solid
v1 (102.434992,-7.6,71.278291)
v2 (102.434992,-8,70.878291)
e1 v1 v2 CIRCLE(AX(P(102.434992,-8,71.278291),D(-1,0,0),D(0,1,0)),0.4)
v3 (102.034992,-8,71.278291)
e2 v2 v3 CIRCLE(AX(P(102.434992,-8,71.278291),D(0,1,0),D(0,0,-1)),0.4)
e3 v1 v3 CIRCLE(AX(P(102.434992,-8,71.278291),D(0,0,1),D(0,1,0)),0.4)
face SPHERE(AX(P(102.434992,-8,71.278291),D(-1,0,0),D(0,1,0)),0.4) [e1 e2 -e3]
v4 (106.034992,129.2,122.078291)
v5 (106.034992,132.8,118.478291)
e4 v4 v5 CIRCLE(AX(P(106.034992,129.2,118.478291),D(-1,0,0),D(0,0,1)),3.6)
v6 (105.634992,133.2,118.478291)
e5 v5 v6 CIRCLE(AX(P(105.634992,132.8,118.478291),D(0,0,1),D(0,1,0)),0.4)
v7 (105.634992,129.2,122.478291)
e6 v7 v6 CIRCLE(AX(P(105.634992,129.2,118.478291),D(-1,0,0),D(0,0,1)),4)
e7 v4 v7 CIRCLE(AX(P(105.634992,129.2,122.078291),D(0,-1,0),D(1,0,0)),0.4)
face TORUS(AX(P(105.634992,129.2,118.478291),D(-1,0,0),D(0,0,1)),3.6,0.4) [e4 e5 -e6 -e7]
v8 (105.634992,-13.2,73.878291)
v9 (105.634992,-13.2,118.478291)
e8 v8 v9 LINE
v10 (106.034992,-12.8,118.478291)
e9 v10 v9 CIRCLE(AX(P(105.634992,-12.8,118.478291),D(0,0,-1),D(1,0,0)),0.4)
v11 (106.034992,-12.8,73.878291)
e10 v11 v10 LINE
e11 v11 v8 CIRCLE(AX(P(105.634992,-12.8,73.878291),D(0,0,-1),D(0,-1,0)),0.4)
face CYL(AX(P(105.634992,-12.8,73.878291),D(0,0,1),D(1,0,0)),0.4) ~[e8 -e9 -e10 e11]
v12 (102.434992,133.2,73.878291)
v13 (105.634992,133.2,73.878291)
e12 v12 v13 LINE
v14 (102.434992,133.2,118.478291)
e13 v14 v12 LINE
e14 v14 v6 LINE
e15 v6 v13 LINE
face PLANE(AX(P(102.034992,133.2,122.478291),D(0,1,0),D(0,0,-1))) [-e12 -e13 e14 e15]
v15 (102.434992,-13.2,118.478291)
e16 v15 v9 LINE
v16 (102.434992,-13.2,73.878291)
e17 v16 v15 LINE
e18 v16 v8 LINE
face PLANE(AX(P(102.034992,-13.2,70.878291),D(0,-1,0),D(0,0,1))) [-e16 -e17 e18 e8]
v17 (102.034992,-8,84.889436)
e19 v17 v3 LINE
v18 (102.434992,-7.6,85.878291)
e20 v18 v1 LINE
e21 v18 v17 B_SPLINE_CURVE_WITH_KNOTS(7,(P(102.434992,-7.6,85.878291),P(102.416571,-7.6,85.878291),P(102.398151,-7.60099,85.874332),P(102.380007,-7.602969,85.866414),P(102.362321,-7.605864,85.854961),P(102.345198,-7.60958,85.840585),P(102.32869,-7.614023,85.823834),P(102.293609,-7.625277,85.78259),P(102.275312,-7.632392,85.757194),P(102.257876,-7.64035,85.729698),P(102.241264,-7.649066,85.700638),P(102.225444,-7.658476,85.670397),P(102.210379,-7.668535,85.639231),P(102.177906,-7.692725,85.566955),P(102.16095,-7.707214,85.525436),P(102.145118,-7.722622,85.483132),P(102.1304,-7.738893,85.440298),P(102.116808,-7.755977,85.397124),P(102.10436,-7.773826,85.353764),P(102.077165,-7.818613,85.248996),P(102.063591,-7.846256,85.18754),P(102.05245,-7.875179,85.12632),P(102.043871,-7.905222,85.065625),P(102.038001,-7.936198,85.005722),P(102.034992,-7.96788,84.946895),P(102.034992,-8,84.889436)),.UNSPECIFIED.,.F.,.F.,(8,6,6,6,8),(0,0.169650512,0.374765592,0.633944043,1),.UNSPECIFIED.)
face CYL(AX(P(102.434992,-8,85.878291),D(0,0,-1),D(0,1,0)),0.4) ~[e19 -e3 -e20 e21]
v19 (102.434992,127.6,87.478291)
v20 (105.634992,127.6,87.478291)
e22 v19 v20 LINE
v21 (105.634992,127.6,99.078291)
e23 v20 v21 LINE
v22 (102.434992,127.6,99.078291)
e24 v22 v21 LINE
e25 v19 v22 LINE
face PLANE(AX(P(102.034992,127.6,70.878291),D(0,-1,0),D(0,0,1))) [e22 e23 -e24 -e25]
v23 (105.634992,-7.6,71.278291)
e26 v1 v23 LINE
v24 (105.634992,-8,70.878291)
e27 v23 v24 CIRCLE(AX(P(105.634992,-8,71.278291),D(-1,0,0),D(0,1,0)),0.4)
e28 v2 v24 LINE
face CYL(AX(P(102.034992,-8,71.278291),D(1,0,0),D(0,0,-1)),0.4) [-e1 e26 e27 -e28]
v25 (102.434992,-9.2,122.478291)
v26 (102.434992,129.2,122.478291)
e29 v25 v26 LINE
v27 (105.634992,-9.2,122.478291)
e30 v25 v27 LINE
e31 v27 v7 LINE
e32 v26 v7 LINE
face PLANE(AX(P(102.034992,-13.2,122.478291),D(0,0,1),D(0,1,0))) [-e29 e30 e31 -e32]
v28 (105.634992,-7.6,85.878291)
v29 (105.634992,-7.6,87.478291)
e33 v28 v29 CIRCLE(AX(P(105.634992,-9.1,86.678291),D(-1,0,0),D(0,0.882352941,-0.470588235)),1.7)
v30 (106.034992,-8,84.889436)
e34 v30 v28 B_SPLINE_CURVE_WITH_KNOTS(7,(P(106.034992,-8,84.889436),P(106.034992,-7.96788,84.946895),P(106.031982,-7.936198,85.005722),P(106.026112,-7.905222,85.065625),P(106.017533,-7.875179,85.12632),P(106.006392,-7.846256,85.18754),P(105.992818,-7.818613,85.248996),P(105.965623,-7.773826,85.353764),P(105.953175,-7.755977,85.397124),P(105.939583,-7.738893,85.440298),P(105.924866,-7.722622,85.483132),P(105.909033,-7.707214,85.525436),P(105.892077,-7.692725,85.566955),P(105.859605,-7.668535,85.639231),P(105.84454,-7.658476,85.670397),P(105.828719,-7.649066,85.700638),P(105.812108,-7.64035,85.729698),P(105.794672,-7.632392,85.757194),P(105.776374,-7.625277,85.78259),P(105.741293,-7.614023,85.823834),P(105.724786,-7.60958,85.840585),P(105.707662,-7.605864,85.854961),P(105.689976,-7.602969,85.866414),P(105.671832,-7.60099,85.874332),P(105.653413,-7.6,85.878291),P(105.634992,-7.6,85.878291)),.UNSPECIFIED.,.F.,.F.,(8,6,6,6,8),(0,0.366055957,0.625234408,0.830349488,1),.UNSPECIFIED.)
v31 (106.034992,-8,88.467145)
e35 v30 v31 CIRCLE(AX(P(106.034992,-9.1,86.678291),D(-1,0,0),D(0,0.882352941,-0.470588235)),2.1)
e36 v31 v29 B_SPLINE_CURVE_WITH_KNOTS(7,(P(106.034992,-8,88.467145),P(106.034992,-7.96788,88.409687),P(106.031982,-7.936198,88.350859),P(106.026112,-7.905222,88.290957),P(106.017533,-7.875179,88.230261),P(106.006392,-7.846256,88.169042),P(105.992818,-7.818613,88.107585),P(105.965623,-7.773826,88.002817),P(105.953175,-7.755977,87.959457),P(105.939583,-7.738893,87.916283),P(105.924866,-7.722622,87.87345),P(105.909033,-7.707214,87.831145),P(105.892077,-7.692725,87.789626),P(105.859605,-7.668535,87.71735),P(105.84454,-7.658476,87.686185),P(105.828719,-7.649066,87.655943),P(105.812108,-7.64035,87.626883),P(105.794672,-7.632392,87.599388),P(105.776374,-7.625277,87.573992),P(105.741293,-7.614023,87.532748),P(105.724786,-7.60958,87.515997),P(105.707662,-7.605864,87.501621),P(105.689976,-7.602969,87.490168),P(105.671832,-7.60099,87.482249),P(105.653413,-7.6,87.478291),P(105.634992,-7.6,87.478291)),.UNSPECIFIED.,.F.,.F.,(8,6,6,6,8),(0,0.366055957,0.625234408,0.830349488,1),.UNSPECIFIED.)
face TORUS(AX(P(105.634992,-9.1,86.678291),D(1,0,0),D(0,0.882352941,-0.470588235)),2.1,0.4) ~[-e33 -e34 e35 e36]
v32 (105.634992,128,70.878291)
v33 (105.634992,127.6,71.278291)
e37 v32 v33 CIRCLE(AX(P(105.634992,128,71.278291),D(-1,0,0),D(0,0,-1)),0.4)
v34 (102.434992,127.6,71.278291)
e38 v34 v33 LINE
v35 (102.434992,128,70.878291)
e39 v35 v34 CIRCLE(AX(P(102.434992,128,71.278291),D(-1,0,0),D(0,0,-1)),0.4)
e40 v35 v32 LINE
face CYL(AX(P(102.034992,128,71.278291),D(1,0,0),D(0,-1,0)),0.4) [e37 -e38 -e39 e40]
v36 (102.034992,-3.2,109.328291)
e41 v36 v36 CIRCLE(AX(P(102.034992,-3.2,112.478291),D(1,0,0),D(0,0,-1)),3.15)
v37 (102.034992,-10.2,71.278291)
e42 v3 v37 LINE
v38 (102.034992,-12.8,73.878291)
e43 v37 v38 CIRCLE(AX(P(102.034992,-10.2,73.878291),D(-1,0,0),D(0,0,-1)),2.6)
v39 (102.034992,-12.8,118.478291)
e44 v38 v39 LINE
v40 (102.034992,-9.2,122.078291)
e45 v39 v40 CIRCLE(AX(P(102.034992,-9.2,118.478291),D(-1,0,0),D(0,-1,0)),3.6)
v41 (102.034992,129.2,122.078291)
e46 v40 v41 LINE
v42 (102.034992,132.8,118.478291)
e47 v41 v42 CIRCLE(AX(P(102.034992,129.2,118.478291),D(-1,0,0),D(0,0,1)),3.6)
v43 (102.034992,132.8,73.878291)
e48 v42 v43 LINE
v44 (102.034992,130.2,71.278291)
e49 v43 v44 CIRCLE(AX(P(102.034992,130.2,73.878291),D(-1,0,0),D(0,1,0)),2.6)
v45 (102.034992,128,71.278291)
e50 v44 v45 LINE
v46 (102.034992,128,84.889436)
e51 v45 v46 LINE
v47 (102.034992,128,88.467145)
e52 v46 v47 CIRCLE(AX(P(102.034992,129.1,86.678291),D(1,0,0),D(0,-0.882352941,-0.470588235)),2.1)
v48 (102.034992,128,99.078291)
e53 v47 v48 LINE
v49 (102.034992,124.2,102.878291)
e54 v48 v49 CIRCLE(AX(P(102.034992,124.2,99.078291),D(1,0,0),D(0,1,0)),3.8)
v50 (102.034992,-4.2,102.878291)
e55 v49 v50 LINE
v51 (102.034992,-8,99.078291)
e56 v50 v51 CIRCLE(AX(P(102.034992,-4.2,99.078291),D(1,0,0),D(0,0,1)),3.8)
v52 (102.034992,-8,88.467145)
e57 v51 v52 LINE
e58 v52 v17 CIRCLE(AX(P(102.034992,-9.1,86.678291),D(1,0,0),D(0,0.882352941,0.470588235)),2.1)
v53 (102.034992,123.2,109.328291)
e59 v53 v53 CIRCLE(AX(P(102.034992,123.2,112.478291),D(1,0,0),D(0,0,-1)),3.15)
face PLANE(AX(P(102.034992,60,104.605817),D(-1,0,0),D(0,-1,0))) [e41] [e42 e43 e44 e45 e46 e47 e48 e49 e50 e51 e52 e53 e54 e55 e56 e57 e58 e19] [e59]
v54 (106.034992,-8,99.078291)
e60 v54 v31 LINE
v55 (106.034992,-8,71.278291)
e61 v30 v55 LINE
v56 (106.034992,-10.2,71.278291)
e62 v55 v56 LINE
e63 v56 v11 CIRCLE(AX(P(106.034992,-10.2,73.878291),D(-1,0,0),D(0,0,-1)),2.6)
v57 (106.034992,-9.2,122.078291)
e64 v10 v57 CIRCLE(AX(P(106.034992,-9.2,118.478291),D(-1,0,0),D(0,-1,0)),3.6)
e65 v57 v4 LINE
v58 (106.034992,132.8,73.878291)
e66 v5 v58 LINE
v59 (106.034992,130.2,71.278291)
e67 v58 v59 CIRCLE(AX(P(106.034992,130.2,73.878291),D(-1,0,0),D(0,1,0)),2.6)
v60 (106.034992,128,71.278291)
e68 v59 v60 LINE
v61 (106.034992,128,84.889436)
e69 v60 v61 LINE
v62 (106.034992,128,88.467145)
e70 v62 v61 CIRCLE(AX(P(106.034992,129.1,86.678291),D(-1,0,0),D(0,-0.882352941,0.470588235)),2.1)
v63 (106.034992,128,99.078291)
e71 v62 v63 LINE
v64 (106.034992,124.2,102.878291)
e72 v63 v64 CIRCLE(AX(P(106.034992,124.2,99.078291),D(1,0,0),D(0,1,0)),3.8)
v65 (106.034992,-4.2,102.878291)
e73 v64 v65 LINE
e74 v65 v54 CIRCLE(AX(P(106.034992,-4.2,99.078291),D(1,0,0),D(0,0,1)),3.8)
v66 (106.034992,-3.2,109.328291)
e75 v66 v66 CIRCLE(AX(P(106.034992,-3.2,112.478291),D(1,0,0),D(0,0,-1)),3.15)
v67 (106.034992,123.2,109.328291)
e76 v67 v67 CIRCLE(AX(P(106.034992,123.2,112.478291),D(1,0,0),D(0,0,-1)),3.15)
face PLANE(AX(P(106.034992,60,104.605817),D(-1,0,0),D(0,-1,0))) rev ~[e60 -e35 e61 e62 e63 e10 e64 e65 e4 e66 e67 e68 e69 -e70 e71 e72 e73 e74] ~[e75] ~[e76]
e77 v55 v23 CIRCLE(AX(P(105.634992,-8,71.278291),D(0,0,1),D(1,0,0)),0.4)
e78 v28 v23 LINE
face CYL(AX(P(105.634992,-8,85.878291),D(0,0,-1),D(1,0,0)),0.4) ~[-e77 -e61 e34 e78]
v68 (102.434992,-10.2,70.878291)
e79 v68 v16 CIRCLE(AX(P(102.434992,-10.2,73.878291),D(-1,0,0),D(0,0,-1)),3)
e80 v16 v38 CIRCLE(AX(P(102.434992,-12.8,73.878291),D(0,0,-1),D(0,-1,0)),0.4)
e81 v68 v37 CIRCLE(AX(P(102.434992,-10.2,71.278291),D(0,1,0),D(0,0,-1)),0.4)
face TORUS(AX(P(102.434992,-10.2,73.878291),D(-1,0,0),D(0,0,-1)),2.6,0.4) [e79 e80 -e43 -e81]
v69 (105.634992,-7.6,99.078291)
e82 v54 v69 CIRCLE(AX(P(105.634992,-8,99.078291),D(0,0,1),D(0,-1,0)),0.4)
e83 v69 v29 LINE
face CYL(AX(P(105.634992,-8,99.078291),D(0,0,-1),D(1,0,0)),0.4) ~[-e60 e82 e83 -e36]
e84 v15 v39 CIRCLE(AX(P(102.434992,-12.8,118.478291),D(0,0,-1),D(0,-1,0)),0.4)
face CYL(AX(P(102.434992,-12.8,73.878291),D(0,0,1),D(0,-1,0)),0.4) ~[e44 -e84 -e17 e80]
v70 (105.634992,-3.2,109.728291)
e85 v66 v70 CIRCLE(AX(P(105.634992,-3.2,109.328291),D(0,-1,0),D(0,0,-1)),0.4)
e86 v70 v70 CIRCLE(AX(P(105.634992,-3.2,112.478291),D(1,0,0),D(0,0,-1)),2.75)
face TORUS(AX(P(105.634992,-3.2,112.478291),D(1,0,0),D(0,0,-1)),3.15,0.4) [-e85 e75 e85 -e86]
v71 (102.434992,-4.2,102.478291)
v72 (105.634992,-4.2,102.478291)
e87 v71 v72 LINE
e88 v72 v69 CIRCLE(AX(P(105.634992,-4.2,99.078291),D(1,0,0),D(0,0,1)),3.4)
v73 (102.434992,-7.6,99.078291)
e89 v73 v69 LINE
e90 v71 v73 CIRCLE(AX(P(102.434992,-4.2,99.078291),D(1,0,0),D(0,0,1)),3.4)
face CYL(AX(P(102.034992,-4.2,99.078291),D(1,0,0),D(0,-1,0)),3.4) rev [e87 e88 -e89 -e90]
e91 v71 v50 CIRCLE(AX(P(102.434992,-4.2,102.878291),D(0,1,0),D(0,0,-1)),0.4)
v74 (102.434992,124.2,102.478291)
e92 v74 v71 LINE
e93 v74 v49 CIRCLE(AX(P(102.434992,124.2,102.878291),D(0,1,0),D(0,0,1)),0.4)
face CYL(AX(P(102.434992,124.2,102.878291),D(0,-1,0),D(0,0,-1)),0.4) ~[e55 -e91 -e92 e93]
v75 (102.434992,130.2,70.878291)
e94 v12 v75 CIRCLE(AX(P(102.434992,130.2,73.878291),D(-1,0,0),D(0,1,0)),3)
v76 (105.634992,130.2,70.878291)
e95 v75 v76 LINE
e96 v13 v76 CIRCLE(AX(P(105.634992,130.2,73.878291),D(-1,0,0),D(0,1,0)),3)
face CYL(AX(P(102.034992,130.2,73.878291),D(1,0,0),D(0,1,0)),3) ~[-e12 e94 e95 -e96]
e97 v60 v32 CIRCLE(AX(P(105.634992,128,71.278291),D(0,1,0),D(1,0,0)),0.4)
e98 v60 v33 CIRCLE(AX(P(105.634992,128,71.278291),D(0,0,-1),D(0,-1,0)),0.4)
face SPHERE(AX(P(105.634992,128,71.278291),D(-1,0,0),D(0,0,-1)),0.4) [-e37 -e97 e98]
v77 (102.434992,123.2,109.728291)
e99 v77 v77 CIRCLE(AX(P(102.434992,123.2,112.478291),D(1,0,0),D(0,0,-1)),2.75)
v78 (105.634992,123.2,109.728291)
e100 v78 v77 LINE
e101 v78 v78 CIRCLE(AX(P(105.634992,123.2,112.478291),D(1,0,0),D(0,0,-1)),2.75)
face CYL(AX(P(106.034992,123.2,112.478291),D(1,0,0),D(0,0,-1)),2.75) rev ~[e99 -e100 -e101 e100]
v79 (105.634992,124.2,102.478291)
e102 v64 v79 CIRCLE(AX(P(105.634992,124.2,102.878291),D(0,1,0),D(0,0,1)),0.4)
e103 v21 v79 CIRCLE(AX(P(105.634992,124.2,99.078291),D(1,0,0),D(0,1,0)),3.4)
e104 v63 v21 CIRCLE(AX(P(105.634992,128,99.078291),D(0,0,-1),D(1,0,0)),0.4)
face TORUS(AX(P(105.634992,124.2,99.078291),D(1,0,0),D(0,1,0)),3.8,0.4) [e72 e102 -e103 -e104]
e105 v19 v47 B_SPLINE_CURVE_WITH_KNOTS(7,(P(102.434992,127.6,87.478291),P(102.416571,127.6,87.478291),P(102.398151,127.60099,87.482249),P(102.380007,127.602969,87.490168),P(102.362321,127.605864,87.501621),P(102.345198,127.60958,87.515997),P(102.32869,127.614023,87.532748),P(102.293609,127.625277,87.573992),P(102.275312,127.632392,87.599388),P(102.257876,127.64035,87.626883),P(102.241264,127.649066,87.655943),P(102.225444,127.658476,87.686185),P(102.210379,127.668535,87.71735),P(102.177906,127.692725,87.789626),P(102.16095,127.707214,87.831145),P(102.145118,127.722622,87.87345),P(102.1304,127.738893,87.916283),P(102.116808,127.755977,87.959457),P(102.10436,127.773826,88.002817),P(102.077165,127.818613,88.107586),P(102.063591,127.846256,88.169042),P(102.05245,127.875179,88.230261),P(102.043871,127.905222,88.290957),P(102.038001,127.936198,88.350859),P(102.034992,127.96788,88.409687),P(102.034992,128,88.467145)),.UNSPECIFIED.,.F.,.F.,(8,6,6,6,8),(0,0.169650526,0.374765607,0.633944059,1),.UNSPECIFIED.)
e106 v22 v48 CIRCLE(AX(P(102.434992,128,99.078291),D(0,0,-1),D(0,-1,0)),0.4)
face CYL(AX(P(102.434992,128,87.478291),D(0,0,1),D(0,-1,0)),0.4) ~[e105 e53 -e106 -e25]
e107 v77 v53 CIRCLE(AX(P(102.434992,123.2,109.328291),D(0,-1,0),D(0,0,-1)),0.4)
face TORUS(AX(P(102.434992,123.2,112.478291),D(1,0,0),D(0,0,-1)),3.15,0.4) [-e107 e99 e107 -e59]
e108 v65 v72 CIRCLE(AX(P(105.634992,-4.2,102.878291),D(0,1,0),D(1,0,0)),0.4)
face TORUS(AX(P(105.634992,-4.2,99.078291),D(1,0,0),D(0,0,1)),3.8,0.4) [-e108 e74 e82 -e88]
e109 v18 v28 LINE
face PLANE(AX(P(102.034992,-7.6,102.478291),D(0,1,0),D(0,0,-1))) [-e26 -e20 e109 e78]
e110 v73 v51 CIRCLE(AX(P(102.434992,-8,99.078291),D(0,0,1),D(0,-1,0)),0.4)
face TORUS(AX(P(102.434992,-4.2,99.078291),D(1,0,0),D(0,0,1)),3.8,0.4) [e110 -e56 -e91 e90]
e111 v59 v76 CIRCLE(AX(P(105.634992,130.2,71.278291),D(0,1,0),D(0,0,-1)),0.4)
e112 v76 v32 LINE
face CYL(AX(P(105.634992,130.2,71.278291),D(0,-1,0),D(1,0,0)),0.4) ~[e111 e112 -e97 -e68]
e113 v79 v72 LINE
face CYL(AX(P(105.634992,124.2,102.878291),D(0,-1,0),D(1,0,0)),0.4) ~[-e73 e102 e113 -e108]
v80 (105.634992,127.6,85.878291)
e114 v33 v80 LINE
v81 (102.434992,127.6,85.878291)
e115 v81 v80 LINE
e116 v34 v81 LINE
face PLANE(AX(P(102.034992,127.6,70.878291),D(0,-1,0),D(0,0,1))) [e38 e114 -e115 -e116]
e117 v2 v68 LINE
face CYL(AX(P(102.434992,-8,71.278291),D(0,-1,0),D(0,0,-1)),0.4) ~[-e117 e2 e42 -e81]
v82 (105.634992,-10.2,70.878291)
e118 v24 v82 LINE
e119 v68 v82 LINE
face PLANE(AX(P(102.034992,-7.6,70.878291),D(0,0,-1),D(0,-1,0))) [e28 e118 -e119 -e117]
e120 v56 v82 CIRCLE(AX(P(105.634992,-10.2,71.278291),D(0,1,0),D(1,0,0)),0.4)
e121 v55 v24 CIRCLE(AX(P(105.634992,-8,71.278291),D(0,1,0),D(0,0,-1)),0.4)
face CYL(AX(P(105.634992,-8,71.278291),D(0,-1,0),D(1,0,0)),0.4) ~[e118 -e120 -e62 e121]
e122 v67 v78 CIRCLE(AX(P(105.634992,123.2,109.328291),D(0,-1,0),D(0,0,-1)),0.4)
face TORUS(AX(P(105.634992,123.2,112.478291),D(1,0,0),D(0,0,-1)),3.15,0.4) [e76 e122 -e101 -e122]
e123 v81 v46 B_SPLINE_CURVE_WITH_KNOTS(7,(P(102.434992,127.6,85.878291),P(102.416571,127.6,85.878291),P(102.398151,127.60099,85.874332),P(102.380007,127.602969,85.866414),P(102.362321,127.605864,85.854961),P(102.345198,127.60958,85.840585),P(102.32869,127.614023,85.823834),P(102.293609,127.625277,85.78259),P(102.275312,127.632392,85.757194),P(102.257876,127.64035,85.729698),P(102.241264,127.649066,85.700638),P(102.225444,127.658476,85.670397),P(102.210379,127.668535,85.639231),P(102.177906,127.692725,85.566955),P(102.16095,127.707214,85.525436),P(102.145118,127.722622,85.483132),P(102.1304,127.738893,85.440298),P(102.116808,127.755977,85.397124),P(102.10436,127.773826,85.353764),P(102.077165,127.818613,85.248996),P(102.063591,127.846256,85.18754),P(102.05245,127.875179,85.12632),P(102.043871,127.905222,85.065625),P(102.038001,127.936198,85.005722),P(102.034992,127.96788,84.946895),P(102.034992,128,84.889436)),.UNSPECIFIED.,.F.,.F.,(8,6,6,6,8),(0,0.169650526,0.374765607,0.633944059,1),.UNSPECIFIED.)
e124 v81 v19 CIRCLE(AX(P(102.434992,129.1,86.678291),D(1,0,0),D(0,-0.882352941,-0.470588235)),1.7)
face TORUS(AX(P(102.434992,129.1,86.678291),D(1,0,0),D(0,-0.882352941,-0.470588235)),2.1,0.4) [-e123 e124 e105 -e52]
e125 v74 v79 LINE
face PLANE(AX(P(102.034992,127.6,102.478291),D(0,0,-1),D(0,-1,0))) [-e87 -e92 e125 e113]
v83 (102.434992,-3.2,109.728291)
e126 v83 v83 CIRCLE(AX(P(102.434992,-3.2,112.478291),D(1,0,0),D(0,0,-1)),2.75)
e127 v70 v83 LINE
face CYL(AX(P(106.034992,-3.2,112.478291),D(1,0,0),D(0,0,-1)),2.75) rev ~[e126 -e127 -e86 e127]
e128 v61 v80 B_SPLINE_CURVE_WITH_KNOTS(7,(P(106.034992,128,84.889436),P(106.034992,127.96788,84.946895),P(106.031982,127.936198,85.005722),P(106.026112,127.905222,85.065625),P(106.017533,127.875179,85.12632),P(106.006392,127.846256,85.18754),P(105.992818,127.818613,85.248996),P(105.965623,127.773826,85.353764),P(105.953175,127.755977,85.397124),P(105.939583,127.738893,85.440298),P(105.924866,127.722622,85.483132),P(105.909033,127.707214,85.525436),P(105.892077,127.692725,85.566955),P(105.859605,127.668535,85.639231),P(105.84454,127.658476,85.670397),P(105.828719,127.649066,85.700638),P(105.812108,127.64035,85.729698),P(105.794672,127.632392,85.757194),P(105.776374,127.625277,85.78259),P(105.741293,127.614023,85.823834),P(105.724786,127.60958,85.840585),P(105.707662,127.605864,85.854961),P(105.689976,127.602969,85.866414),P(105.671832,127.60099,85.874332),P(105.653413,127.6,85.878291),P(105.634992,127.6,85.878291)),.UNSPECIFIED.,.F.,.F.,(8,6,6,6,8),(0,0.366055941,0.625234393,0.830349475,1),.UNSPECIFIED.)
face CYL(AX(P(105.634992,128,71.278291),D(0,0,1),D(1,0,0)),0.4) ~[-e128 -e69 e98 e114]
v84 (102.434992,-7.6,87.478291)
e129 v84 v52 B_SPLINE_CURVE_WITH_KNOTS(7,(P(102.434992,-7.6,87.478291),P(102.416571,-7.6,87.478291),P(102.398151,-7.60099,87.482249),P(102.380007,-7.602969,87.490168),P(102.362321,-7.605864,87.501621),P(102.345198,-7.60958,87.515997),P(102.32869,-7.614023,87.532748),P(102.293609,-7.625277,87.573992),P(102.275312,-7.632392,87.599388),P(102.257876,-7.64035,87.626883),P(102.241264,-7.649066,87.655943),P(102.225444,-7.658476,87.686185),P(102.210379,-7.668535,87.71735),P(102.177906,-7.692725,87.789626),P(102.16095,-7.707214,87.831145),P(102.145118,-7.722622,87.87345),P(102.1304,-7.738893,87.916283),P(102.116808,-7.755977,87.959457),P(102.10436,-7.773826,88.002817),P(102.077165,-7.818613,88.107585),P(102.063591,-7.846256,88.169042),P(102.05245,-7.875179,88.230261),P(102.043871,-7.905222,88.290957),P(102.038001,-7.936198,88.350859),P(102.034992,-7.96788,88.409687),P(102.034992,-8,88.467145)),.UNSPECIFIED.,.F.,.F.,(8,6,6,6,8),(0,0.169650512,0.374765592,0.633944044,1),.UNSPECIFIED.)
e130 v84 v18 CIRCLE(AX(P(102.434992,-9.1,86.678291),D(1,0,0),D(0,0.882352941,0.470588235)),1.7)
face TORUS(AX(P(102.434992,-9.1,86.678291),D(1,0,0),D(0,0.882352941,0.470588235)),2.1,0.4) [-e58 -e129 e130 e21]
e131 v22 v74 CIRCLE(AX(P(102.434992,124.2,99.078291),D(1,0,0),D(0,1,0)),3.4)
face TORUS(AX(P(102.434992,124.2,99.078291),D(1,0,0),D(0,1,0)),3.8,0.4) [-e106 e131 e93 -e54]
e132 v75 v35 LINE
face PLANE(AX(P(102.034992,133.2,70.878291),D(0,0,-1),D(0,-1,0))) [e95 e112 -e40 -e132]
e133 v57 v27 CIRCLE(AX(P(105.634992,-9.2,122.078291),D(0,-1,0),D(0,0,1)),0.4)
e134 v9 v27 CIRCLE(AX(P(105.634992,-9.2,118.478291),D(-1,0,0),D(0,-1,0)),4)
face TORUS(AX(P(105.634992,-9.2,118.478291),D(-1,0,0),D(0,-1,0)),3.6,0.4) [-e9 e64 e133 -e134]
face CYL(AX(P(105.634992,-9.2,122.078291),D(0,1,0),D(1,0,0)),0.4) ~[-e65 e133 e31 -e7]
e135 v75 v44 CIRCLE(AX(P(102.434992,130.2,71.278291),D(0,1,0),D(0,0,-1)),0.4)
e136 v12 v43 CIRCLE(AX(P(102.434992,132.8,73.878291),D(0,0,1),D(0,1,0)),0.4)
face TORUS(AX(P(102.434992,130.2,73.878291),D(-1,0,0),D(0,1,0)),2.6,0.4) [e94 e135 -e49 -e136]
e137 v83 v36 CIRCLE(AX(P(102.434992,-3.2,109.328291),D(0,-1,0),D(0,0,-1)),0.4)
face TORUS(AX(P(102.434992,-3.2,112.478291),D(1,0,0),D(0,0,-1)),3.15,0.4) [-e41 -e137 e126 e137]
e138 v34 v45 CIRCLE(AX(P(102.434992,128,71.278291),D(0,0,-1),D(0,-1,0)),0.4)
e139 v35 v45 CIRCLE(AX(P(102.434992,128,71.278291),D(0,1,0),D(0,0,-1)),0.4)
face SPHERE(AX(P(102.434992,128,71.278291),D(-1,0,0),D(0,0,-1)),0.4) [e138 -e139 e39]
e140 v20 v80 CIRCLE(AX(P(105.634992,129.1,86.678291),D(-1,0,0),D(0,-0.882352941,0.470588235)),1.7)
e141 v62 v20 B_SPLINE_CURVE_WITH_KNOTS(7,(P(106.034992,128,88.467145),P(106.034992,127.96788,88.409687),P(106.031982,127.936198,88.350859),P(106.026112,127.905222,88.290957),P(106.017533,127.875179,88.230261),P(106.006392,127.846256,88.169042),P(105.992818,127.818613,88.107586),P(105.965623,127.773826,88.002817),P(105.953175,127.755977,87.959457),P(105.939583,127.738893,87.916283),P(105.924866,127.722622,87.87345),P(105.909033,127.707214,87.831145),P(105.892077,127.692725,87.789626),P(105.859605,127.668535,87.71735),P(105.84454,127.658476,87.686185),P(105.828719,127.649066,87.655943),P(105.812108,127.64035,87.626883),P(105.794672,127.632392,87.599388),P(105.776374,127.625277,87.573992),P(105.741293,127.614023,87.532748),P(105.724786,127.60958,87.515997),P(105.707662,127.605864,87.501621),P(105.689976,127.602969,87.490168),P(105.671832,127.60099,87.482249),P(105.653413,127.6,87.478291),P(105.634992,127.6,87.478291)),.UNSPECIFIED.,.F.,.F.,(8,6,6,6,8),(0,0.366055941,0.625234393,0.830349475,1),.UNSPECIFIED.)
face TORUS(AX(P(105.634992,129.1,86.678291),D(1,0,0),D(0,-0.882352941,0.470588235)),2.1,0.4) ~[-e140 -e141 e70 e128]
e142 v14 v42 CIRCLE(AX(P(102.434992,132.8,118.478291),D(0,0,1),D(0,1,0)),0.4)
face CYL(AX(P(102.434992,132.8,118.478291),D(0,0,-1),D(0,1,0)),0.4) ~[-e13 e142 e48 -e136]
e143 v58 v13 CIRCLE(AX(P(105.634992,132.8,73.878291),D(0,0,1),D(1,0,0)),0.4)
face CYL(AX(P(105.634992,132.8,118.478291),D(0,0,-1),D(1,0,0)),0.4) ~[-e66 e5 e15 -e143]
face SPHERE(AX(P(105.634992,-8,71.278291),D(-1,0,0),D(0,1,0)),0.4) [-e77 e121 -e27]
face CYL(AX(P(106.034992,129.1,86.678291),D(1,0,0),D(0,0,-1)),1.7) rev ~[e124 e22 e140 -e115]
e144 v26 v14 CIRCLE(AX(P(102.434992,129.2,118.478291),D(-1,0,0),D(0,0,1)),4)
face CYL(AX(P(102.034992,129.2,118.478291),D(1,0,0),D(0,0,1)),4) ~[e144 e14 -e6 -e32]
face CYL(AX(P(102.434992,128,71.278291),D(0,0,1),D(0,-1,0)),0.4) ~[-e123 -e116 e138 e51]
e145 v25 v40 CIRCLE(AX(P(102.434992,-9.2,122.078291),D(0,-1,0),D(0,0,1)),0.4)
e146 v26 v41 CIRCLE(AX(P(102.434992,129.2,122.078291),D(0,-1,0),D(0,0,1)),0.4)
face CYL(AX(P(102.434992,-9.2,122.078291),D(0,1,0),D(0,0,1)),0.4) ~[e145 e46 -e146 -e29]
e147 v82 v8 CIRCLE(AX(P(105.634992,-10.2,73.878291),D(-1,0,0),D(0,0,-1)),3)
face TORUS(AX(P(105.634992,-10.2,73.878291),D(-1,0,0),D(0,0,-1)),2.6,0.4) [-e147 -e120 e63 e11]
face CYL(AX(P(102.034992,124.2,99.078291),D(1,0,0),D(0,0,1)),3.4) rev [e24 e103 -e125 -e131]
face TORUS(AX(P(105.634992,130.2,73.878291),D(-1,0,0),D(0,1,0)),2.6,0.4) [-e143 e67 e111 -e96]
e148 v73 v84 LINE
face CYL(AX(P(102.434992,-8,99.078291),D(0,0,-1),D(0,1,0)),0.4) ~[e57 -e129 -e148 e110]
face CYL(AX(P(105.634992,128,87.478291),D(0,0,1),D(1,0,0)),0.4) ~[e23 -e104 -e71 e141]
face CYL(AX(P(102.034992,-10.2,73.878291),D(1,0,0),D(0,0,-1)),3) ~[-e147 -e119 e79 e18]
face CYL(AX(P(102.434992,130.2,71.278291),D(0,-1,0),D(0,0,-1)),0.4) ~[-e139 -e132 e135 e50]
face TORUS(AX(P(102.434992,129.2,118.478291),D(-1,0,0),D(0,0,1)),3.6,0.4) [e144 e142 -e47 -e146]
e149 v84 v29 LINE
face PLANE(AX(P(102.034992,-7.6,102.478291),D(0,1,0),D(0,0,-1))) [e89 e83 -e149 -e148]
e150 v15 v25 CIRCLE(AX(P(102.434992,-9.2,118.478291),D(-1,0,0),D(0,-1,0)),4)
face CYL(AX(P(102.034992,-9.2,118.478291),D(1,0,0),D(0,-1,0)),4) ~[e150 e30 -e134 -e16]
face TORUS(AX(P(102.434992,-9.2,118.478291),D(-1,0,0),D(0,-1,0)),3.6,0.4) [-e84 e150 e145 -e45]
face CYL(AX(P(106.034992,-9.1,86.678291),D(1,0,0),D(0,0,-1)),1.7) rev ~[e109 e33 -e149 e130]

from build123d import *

# Parameters (mm, degrees)
BOSS_EXTRUDE1_DEPTH = 4
SKETCH6_R           = 1.7
SKETCH6_R_2         = 2.75
HOLES_DEPTH         = 5
FILLET1_R           = 0.4
FILLET3_R           = 3
FILLET5_R           = 4
FILLET6_R           = 3.4
FILLET7_R           = 0.4


with BuildPart() as part:
    # Sketch1 → Boss-Extrude1 (new body)
    with BuildSketch(Plane(origin=(102.034991665, 0, 0), x_dir=(0, -1, 0), z_dir=(-1, 0, 0))):
        Polygon((-127.6, 102.478290724), (7.6, 102.478290724), (7.6, 70.878290724), (13.2, 70.878290724), (13.2, 122.478290724), (-133.2, 122.478290724), (-133.2, 70.878290724), (-127.6, 70.878290724), align=None)
    extrude(amount=-BOSS_EXTRUDE1_DEPTH)

    # Sketch6 → Holes (cut, through all)
    with BuildSketch(Plane(origin=(106.034991665, 0, 0), x_dir=(0, 0, -1), z_dir=(1, 0, 0))):
        with Locations((-86.678290724, 129.1)):
            Circle(SKETCH6_R)
        with Locations((-112.478290724, 123.2)):
            Circle(SKETCH6_R_2)
        with Locations((-112.478290724, -3.2)):
            Circle(SKETCH6_R_2)
        with Locations((-86.678290724, -9.1)):
            Circle(SKETCH6_R)
    extrude(amount=-HOLES_DEPTH, mode=Mode.SUBTRACT)

    # Fillet1
    fillet1_edges = [part.edges().sort_by_distance(p)[0] for p in [
        (104.034991665, 127.6, 70.878290724),
        (104.034991665, -7.6, 70.878290724),
        (102.034991665, 123.2, 115.228290724),
        (106.034991665, 123.2, 115.228290724),
        (102.034991665, -3.2, 115.228290724),
        (106.034991665, -3.2, 115.228290724),
    ]]
    fillet(fillet1_edges, radius=FILLET1_R)

    # Fillet3
    fillet3_edges = [part.edges().sort_by_distance(p)[0] for p in [
        (104.034991665, 133.2, 70.878290724),
        (104.034991665, -13.2, 70.878290724),
    ]]
    fillet(fillet3_edges, radius=FILLET3_R)

    # Fillet5
    fillet5_edges = [part.edges().sort_by_distance(p)[0] for p in [
        (104.034991665, 133.2, 122.478290724),
        (104.034991665, -13.2, 122.478290724),
    ]]
    fillet(fillet5_edges, radius=FILLET5_R)

    # Fillet6
    fillet6_edges = [part.edges().sort_by_distance(p)[0] for p in [
        (104.034991665, -7.6, 102.478290724),
        (104.034991665, 127.6, 102.478290724),
    ]]
    fillet(fillet6_edges, radius=FILLET6_R)

    # Fillet7
    fillet7_edges = [part.edges().sort_by_distance(p)[0] for p in [
        (102.034991665, 60, 102.478290724),
        (106.034991665, 60, 102.478290724),
        (102.034991665, -7.6, 93.278290724),
        (106.034991665, -7.6, 93.278290724),
        (102.034991665, -6.604163056, 101.48245378),
        (106.034991665, -6.604163056, 101.48245378),
        (102.034991665, 126.604163056, 101.48245378),
        (106.034991665, 126.604163056, 101.48245378),
        (102.034991665, 127.6, 93.278290724),
        (102.034991665, -7.6, 78.578290724),
        (102.034991665, -10.8, 86.678290724),
        (102.034991665, 130.8, 86.678290724),
        (106.034991665, 127.6, 93.278290724),
        (106.034991665, -7.6, 78.578290724),
        (106.034991665, 130.8, 86.678290724),
        (106.034991665, -10.8, 86.678290724),
        (102.034991665, 127.6, 78.578290724),
        (102.034991665, -9.1, 70.878290724),
        (102.034991665, 127.717157288, 70.995448012),
        (102.034991665, -7.717157288, 70.995448012),
        (106.034991665, 127.6, 78.578290724),
        (106.034991665, -9.1, 70.878290724),
        (106.034991665, 127.717157288, 70.995448012),
        (106.034991665, -7.717157288, 70.995448012),
        (102.034991665, -13.2, 96.178290724),
        (102.034991665, 129.1, 70.878290724),
        (102.034991665, 132.321320344, 71.756970381),
        (102.034991665, -12.321320344, 71.756970381),
        (106.034991665, -13.2, 96.178290724),
        (106.034991665, 129.1, 70.878290724),
        (106.034991665, 132.321320344, 71.756970381),
        (106.034991665, -12.321320344, 71.756970381),
        (102.034991665, 60, 122.478290724),
        (106.034991665, 60, 122.478290724),
        (102.034991665, 133.2, 96.178290724),
        (102.034991665, -12.028427125, 121.306717849),
        (102.034991665, 132.028427125, 121.306717849),
        (106.034991665, 133.2, 96.178290724),
        (106.034991665, -12.028427125, 121.306717849),
        (106.034991665, 132.028427125, 121.306717849),
    ]]
    fillet(fillet7_edges, radius=FILLET7_R)


solid = part.part
